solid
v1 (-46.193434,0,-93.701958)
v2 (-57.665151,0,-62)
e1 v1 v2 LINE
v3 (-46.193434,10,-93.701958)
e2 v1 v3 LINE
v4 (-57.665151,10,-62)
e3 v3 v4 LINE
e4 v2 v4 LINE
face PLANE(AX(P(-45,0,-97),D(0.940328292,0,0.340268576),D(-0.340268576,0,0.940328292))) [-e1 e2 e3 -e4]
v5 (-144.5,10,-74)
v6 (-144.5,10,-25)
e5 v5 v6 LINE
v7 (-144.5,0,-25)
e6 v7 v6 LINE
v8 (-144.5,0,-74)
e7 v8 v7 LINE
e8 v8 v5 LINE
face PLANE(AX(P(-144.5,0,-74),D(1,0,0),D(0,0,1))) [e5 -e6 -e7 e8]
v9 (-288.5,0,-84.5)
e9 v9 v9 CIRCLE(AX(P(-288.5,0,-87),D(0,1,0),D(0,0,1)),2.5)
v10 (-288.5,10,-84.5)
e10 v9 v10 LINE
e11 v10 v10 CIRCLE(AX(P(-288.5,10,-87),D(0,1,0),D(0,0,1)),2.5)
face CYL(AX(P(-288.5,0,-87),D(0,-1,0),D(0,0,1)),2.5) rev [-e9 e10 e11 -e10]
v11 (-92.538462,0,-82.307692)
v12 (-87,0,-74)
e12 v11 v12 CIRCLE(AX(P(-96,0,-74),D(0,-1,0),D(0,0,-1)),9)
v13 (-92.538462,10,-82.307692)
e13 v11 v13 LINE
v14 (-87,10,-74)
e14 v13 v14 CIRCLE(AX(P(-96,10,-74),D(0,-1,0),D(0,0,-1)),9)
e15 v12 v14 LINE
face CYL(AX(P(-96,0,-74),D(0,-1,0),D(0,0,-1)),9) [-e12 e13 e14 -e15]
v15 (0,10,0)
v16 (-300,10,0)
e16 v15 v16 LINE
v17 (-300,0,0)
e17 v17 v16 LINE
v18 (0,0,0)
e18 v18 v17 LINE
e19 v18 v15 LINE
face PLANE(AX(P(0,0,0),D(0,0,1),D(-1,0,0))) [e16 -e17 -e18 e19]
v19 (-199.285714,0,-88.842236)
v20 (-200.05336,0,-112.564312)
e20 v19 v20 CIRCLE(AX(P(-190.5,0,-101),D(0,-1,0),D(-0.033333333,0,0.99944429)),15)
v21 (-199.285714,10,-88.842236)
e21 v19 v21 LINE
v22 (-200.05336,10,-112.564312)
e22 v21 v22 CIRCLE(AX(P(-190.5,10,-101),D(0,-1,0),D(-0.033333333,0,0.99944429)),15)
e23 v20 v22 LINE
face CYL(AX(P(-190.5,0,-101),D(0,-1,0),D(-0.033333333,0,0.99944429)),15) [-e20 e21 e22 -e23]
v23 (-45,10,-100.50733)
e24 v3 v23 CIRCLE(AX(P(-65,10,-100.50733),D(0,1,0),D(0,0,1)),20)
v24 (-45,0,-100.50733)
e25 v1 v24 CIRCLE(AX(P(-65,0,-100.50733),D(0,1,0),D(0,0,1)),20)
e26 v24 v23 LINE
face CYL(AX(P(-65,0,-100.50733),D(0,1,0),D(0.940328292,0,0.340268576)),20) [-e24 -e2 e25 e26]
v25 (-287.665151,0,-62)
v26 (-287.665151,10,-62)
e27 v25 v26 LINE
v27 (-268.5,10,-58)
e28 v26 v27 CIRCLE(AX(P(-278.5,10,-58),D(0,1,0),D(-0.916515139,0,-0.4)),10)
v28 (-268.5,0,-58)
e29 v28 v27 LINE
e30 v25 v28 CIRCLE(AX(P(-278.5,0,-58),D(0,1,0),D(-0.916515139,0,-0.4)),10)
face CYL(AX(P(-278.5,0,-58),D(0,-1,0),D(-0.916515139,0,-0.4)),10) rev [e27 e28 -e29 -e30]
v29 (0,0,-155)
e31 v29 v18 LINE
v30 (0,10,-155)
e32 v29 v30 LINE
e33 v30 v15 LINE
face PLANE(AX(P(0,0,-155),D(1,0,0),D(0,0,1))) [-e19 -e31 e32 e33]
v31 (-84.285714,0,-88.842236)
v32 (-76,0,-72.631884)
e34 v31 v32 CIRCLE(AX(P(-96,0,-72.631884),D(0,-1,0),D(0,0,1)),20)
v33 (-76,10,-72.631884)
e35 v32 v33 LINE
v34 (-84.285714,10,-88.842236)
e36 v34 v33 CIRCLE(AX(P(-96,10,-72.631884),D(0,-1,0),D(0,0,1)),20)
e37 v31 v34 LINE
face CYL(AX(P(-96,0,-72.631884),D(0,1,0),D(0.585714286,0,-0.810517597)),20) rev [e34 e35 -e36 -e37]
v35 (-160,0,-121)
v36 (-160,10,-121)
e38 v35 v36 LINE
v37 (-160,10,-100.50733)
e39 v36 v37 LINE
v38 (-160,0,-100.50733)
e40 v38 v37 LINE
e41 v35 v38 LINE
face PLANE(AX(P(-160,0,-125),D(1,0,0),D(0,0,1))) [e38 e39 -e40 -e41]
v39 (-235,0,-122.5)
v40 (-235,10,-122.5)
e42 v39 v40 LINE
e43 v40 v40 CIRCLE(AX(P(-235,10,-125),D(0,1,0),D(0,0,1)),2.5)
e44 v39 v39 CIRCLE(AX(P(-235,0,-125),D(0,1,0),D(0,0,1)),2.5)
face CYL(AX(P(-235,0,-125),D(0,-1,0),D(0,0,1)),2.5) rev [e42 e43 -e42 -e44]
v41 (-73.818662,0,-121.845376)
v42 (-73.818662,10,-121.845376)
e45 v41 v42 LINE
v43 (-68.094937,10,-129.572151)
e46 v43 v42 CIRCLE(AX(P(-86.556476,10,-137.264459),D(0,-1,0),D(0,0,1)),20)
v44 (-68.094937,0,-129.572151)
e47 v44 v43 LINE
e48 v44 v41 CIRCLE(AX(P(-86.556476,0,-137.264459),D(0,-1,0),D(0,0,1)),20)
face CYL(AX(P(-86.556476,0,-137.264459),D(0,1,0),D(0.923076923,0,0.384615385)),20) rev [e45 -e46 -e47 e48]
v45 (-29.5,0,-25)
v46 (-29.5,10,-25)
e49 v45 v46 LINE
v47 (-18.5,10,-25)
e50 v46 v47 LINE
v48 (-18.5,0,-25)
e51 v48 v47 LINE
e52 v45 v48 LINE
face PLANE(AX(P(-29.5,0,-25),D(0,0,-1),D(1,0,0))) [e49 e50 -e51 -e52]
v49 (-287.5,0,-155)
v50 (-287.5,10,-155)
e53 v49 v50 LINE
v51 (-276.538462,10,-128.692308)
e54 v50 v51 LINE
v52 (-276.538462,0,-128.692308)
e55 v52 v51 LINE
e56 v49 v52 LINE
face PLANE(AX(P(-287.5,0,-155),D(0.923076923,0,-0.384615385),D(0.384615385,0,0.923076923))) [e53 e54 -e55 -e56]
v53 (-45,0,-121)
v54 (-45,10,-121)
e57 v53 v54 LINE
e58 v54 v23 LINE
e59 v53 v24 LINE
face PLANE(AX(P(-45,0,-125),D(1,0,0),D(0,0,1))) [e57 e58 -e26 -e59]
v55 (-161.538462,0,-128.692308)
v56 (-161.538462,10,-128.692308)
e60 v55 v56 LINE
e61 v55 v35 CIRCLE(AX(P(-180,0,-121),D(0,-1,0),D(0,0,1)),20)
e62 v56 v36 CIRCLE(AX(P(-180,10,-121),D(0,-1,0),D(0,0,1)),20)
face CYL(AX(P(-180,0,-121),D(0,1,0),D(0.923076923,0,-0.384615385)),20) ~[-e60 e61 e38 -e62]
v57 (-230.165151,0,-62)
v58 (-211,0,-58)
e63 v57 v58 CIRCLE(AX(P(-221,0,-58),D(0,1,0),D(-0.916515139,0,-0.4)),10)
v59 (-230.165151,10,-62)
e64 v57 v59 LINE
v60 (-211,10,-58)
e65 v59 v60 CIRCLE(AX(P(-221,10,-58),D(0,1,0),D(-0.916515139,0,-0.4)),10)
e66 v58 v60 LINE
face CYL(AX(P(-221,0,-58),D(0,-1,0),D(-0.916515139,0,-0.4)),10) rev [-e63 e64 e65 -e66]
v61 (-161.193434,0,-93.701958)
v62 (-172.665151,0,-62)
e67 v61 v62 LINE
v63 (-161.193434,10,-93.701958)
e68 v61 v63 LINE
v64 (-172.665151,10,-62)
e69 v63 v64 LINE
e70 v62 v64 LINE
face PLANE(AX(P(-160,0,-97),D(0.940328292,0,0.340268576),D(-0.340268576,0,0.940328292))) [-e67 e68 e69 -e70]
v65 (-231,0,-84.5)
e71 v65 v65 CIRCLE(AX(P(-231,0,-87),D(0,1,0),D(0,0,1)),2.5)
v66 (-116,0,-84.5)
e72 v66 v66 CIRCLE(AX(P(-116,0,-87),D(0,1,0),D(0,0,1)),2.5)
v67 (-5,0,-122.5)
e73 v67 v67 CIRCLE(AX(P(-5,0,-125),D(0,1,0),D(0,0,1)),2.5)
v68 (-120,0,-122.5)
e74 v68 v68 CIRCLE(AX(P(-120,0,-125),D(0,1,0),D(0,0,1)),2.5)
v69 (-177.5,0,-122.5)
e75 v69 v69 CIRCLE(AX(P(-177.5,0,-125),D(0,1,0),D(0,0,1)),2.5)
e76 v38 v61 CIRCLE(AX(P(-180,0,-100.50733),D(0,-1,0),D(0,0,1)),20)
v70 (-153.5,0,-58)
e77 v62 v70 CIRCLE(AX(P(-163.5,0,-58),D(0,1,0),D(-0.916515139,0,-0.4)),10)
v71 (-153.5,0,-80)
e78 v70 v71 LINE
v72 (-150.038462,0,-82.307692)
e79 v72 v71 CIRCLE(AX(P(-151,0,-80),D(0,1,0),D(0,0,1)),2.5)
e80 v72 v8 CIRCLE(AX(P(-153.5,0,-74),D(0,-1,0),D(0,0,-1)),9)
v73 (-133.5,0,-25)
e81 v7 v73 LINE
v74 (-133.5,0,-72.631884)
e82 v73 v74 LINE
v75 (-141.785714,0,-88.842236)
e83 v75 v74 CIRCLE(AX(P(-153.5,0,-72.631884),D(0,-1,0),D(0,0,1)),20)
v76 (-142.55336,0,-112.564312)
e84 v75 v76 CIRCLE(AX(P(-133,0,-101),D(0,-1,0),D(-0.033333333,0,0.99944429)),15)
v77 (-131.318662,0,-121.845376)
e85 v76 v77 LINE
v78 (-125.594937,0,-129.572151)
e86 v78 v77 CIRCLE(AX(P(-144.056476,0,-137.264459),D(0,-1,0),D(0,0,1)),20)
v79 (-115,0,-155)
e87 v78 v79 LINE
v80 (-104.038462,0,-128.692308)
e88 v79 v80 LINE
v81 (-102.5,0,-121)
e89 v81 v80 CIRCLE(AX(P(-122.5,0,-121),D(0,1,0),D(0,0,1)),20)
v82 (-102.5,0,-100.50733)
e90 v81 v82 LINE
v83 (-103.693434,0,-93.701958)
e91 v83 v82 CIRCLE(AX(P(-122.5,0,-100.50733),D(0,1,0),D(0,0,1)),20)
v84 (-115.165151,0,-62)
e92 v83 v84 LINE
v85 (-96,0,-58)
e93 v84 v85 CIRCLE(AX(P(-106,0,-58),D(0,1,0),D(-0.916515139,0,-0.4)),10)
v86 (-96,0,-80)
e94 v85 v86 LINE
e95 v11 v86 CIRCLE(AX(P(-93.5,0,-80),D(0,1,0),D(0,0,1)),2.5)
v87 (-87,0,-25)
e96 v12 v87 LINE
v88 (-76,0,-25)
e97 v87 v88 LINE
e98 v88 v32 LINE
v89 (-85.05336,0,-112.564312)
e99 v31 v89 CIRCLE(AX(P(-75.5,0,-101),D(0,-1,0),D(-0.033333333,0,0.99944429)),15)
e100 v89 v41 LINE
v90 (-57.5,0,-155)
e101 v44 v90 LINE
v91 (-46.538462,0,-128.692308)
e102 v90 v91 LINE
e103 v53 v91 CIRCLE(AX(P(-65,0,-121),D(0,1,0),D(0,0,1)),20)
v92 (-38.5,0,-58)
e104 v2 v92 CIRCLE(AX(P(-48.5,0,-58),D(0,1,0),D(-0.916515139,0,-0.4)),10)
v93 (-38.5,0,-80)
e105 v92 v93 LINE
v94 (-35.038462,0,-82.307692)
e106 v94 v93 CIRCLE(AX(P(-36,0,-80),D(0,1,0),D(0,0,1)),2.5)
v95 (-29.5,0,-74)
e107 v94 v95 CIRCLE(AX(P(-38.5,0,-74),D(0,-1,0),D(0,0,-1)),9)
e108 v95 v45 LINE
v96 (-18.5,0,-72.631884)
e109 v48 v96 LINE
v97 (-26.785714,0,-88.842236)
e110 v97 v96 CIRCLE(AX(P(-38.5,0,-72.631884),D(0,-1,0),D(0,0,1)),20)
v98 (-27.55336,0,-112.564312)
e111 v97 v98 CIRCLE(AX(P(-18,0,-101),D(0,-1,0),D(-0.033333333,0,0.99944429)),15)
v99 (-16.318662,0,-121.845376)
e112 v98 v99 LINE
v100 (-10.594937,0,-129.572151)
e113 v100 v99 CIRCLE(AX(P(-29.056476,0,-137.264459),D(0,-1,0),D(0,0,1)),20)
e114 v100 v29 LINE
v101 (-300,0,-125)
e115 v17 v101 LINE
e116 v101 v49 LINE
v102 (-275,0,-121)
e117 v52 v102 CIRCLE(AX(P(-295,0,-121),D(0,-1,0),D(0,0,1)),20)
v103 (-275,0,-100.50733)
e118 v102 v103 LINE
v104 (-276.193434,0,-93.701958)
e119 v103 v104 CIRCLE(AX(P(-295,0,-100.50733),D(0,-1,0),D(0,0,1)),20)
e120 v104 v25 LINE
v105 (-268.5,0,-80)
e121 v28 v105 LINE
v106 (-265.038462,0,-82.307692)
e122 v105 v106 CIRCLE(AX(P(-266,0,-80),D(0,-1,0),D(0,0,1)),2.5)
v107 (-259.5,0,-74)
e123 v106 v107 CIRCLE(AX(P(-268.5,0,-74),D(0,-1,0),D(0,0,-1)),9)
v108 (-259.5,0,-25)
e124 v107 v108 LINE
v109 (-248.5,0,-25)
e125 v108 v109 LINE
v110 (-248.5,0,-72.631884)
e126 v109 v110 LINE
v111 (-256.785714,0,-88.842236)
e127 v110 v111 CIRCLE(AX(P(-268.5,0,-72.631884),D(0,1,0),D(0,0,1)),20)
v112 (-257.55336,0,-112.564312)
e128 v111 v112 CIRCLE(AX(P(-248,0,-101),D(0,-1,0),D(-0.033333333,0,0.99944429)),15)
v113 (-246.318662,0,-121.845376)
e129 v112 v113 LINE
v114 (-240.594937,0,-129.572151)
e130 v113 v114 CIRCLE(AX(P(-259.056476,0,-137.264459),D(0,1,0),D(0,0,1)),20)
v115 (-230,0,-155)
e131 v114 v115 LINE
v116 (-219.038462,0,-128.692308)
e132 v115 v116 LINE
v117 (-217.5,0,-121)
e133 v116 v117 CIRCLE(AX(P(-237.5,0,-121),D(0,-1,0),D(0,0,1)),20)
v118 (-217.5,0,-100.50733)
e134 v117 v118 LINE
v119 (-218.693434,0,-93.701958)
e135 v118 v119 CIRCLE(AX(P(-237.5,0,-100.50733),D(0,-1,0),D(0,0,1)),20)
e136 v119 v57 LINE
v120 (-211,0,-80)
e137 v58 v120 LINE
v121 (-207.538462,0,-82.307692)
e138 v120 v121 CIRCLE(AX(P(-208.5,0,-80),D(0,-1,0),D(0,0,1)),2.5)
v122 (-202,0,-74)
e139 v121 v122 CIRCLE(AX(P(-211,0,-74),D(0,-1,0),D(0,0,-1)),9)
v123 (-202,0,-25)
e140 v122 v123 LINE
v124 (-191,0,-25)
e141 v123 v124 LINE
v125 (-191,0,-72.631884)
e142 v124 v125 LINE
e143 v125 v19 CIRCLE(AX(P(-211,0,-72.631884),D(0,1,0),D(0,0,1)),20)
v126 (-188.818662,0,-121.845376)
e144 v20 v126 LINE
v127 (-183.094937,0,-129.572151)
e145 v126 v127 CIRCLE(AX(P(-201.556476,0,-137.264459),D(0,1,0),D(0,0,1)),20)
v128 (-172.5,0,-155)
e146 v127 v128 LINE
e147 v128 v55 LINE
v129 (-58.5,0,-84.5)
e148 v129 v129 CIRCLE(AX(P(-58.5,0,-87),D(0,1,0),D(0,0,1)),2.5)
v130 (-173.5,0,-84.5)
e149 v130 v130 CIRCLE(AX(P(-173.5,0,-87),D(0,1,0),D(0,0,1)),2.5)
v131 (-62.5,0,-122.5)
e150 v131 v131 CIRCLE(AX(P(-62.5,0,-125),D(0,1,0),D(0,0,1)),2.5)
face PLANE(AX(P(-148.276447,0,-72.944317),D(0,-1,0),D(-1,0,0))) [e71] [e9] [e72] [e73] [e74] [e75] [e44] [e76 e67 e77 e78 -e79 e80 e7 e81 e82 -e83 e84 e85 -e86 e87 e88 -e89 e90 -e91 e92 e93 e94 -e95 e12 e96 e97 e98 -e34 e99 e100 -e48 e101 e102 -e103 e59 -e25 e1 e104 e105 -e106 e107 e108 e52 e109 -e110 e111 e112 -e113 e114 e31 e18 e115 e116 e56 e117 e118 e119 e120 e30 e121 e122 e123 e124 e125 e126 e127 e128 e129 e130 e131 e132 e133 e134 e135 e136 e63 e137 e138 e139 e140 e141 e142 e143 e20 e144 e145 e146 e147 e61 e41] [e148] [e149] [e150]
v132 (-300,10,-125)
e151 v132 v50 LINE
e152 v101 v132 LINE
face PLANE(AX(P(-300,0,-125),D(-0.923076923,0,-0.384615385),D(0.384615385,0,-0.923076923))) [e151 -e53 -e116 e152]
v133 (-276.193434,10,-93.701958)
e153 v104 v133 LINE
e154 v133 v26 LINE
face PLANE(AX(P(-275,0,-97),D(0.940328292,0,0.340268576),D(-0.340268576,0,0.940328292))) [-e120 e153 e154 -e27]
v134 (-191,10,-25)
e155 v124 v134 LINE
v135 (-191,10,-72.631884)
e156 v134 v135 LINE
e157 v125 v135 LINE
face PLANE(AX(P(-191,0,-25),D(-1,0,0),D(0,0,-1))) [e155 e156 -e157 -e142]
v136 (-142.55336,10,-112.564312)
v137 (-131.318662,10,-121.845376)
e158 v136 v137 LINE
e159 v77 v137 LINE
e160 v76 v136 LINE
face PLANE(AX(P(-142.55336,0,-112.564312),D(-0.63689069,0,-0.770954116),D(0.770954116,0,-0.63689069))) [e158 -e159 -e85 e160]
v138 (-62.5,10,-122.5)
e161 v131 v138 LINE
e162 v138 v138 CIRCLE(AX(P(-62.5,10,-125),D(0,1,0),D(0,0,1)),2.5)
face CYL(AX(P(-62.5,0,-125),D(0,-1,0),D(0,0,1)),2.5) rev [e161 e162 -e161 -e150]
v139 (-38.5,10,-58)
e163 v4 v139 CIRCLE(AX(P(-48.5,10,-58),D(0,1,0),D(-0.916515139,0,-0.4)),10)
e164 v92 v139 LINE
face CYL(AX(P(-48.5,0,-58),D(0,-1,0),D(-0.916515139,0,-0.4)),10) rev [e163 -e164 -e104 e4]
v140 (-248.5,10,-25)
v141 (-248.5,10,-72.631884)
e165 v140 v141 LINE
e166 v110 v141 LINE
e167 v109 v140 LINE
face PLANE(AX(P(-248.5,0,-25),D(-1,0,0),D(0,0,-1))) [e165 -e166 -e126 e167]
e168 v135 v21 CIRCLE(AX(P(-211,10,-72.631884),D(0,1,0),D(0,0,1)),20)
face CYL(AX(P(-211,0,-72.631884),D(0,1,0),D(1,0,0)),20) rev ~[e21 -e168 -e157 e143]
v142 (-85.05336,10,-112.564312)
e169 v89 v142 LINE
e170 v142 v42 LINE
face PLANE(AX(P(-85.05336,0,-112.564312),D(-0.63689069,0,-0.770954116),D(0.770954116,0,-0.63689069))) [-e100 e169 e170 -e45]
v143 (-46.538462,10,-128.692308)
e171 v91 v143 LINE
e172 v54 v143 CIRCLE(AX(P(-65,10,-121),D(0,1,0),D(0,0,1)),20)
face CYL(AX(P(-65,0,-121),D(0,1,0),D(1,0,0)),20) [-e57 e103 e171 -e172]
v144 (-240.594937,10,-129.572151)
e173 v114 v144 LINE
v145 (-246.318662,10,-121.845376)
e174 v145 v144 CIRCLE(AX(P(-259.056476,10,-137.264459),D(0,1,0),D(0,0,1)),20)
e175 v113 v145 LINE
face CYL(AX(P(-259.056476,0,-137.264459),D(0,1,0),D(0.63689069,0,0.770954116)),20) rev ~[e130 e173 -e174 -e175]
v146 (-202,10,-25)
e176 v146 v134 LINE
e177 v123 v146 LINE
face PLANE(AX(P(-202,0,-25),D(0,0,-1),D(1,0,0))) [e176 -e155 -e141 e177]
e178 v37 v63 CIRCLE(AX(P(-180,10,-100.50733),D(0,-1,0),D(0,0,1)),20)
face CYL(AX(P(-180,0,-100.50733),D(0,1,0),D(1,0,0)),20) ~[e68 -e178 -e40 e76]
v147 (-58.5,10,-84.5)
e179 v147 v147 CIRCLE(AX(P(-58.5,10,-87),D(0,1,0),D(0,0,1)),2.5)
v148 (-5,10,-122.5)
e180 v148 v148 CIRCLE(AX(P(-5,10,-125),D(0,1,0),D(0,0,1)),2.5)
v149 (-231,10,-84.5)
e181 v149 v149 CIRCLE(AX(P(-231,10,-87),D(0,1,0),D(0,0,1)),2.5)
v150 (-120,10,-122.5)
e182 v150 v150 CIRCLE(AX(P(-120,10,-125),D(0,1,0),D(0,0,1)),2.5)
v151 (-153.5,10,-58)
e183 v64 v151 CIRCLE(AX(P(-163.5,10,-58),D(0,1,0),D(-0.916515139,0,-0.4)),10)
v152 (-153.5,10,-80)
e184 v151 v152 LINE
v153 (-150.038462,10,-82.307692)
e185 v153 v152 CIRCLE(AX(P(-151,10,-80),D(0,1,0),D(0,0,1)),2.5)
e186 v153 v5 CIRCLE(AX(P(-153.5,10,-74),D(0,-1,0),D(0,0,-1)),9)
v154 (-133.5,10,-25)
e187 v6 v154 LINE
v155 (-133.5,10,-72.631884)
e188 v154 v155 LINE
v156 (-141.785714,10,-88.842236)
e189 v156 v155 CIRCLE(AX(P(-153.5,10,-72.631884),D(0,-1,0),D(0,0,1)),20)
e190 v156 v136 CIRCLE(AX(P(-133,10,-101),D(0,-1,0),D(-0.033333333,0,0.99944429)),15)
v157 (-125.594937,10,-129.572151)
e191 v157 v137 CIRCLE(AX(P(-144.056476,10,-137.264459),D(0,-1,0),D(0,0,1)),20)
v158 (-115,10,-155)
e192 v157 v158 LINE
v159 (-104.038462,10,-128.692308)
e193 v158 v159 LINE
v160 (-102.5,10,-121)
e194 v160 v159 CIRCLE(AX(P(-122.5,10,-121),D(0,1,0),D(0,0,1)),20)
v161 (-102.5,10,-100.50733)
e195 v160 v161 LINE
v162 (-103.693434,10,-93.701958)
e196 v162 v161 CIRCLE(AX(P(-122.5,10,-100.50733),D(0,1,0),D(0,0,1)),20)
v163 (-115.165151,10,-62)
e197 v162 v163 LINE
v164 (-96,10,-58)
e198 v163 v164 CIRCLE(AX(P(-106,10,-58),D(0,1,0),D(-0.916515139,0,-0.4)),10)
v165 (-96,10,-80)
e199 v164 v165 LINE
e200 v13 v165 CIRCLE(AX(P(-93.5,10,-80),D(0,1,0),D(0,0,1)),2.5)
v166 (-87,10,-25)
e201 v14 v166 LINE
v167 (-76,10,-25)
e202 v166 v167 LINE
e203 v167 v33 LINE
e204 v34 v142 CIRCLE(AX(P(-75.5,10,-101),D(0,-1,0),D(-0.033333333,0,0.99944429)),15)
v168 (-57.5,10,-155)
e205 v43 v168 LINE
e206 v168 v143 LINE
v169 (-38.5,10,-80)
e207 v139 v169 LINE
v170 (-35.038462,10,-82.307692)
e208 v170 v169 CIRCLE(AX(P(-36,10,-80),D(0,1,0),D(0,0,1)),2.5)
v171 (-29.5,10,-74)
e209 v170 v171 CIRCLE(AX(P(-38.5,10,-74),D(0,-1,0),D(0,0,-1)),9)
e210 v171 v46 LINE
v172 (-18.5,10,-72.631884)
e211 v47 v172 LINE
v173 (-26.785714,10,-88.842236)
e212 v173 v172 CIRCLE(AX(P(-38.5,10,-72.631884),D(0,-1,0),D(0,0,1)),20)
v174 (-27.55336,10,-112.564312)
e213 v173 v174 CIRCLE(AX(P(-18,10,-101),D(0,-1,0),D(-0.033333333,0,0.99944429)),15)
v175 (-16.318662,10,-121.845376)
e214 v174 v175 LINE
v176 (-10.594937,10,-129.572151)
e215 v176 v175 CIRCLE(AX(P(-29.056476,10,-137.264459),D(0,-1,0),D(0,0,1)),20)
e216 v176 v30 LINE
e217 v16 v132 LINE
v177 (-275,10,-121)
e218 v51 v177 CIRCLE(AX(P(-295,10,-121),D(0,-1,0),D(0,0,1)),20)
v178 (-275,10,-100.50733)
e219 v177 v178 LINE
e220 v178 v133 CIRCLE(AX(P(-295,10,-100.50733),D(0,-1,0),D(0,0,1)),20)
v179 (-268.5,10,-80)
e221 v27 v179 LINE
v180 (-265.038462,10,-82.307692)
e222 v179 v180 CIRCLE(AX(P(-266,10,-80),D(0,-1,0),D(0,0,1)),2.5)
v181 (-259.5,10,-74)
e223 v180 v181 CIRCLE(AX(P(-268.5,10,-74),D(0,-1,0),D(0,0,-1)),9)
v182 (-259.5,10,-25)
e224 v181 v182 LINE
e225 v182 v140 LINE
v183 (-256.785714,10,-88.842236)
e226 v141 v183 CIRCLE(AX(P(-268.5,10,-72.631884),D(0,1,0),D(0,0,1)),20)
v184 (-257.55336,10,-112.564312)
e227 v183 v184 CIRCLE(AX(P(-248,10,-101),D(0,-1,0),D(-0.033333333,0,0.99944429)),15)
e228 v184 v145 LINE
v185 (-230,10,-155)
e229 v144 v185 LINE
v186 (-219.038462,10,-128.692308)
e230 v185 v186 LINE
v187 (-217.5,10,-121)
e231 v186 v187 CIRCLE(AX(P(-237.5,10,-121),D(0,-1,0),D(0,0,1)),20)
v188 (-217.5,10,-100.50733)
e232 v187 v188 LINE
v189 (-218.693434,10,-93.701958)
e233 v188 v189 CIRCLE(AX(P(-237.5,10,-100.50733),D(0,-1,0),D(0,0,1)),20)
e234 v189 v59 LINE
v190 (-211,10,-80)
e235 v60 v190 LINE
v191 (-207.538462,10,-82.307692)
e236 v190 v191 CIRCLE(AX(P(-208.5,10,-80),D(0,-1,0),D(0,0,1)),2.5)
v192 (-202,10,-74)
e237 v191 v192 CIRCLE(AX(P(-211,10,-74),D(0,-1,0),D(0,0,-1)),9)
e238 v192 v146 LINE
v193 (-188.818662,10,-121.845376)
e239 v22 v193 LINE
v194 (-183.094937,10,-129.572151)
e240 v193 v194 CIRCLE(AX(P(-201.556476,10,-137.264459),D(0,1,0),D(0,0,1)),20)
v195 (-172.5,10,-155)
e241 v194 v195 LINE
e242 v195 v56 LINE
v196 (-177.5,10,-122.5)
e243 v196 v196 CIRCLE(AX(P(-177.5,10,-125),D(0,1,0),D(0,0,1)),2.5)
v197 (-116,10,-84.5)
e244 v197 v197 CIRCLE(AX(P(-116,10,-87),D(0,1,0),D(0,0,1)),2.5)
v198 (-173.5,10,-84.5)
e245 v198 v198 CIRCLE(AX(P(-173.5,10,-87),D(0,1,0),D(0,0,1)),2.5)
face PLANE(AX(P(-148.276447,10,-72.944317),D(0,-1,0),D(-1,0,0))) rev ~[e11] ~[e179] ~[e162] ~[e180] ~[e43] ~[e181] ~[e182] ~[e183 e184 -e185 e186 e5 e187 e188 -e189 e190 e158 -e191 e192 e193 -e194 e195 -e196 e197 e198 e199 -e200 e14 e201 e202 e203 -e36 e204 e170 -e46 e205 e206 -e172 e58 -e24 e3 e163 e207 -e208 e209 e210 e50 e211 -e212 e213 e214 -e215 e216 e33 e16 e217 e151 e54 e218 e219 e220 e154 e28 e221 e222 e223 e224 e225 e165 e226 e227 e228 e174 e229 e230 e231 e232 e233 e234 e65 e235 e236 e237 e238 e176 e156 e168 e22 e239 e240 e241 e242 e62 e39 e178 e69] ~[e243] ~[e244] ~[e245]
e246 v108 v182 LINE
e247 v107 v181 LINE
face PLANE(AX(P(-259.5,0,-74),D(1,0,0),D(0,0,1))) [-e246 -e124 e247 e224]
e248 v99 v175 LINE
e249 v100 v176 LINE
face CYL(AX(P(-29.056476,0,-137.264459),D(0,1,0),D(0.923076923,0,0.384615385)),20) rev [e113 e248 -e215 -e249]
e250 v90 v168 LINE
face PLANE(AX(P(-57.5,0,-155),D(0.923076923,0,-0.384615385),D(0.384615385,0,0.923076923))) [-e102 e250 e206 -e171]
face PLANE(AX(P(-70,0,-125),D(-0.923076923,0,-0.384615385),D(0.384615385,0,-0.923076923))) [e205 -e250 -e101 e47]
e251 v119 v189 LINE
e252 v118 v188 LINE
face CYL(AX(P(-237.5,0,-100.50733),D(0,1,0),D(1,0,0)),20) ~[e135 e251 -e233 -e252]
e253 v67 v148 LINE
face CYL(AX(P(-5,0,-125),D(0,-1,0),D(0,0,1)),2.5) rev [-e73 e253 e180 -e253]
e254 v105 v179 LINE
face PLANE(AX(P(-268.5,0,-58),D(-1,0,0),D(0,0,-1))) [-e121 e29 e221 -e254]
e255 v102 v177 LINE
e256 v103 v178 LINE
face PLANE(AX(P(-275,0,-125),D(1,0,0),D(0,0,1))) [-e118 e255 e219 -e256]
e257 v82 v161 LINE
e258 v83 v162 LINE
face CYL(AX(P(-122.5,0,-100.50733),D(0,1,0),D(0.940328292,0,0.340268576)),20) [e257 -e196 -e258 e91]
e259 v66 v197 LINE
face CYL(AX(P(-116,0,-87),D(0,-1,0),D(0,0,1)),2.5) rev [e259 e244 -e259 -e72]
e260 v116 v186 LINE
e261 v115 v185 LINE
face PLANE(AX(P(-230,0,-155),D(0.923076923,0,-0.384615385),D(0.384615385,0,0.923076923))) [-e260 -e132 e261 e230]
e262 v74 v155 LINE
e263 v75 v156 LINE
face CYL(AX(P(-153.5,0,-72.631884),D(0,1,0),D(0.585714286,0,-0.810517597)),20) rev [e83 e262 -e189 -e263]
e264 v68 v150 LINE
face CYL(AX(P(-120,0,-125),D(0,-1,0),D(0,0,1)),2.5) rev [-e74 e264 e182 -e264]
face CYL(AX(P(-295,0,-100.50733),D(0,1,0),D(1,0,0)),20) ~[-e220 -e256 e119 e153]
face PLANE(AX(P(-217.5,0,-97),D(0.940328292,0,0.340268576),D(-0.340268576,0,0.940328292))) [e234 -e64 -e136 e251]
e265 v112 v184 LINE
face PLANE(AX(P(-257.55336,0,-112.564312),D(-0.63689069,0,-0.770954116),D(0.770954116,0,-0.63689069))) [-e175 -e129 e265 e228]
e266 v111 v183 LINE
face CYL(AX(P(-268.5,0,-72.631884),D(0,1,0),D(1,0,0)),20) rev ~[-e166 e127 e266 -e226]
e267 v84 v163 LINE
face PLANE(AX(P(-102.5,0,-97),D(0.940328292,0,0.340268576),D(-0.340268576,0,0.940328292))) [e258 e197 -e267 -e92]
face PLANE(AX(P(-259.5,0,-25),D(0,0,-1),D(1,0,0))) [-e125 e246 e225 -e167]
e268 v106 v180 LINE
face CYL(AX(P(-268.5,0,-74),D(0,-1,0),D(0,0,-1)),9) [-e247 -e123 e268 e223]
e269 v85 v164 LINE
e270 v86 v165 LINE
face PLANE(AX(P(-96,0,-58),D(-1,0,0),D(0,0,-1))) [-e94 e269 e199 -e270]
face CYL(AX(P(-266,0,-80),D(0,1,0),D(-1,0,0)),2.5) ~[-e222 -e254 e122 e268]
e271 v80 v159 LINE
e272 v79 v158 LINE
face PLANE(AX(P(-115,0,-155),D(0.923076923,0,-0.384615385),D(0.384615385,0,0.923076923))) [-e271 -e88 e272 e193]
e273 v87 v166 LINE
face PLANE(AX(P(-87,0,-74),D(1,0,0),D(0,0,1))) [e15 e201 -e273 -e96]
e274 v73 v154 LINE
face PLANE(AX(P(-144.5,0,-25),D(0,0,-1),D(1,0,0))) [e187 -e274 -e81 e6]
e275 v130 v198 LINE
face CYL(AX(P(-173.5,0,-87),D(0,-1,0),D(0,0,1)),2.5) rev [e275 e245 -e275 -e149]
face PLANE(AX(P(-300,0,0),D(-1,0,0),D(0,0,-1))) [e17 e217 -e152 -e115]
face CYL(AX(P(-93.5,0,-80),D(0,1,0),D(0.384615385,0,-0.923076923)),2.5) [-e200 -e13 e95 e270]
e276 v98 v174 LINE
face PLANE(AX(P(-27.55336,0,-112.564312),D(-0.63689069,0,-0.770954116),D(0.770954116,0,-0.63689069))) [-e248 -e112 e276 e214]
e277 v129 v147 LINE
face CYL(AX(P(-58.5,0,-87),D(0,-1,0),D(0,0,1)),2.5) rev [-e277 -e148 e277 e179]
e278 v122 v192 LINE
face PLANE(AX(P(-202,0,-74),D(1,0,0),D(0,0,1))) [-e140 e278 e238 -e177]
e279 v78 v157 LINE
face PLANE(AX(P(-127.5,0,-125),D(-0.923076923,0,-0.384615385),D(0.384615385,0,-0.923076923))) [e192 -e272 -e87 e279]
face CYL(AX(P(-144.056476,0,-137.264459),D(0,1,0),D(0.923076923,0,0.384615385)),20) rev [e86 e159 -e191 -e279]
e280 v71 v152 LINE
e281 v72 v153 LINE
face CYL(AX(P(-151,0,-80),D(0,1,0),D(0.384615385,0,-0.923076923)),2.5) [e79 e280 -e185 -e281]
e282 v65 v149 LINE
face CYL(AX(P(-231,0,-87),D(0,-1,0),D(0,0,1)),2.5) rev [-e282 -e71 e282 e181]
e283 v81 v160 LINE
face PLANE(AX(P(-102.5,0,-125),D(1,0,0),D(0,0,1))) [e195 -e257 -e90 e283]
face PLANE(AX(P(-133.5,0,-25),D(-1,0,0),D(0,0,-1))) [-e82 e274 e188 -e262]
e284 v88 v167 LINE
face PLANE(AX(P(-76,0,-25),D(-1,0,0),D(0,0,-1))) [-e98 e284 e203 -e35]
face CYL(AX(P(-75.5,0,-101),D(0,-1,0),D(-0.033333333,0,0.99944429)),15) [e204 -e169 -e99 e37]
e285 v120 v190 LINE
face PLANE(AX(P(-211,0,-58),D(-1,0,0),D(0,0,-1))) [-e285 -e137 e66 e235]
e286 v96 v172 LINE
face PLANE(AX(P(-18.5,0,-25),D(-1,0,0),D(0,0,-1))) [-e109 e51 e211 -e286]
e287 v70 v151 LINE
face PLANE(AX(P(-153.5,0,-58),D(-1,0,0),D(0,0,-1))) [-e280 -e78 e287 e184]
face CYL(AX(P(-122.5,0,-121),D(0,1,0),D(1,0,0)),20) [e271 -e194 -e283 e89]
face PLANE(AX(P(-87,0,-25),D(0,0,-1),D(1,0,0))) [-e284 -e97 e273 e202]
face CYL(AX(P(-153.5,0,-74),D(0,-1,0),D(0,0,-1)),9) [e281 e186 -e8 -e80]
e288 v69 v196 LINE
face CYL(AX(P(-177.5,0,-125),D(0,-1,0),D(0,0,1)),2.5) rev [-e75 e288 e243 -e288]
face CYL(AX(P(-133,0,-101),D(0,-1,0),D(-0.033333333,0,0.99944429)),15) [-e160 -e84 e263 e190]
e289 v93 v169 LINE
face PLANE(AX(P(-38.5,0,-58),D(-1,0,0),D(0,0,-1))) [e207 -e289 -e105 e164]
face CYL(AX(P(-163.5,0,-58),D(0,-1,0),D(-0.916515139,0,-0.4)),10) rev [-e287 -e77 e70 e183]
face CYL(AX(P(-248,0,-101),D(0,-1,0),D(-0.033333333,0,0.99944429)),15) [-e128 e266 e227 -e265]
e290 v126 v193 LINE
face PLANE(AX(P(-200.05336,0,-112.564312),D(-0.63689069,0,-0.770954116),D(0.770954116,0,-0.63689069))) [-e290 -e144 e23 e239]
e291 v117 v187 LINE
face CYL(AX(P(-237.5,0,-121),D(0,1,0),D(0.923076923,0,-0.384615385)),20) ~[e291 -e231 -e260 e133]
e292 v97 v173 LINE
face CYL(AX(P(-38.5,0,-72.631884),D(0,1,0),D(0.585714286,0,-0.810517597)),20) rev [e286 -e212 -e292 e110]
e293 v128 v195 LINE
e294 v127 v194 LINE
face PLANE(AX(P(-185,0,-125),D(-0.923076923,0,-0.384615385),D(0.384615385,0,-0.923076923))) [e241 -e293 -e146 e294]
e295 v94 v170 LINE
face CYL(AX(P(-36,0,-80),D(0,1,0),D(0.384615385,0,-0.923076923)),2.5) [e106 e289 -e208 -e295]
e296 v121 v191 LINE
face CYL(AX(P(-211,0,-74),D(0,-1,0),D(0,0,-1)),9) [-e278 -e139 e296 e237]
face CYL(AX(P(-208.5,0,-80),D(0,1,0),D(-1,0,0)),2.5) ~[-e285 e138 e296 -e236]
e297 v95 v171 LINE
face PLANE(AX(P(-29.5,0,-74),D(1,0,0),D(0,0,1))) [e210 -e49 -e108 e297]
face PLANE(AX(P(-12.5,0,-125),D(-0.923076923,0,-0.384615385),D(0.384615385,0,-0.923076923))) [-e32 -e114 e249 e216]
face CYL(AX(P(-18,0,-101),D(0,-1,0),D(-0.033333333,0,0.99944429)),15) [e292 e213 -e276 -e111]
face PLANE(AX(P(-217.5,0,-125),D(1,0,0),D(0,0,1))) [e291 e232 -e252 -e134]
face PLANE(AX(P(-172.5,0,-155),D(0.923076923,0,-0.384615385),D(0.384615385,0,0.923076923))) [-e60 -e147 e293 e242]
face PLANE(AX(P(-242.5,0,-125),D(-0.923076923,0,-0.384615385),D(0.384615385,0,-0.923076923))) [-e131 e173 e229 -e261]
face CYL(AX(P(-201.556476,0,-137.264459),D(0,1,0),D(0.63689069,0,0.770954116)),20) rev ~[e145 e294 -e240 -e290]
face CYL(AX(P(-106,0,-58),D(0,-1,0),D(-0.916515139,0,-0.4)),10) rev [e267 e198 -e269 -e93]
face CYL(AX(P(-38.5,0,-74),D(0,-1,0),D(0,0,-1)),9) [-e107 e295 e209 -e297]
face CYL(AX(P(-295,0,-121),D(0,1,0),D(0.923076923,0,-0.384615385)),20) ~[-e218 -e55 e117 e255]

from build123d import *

# Parameters (mm, degrees)
SKETCH1_R           = 2.5
BOSS_EXTRUDE1_DEPTH = 10
FILLET1_R           = 20
FILLET2_R           = 2.5


with BuildPart() as part:
    # Sketch1 → Boss-Extrude1 (new body)
    with BuildSketch(Plane(origin=(0, 0, 0), x_dir=(1, 0, 0), z_dir=(0, 1, 0))):
        with BuildLine():
            Line((0, 0), (-300, 0))
            Line((-300, 0), (-300, 125))
            Line((-300, 125), (-287.5, 155))
            Line((-287.5, 155), (-275, 125))
            Line((-275, 125), (-275, 97))
            Line((-275, 97), (-287.66515139, 62))
            ThreePointArc((-287.66515139, 62), (-280.543096437, 48.210936871), (-268.5, 58))
            Line((-268.5, 58), (-268.5, 83))
            ThreePointArc((-268.5, 83), (-262.136038969, 80.363961031), (-259.5, 74))
            Line((-259.5, 74), (-259.5, 25))
            Line((-259.5, 25), (-248.5, 25))
            Line((-248.5, 25), (-248.5, 86.008335649))
            ThreePointArc((-248.5, 86.008335649), (-262.197622342, 96.159801673), (-257.553360344, 112.564311745))
            Line((-257.553360344, 112.564311745), (-242.5, 125))
            Line((-242.5, 125), (-230, 155))
            Line((-230, 155), (-217.5, 125))
            Line((-217.5, 125), (-217.5, 97))
            Line((-217.5, 97), (-230.16515139, 62))
            ThreePointArc((-230.16515139, 62), (-223.043096437, 48.210936871), (-211, 58))
            Line((-211, 58), (-211, 83))
            ThreePointArc((-211, 83), (-204.636038969, 80.363961031), (-202, 74))
            Line((-202, 74), (-202, 25))
            Line((-202, 25), (-191, 25))
            Line((-191, 25), (-191, 86.008335649))
            ThreePointArc((-191, 86.008335649), (-204.697622342, 96.159801673), (-200.053360344, 112.564311745))
            Line((-200.053360344, 112.564311745), (-185, 125))
            Line((-185, 125), (-172.5, 155))
            Line((-172.5, 155), (-160, 125))
            Line((-160, 125), (-160, 97))
            Line((-160, 97), (-172.66515139, 62))
            ThreePointArc((-172.66515139, 62), (-165.543096437, 48.210936871), (-153.5, 58))
            Line((-153.5, 58), (-153.5, 83))
            ThreePointArc((-153.5, 83), (-147.136038969, 80.363961031), (-144.5, 74))
            Line((-144.5, 74), (-144.5, 25))
            Line((-144.5, 25), (-133.5, 25))
            Line((-133.5, 25), (-133.5, 86.008335649))
            ThreePointArc((-133.5, 86.008335649), (-147.197622342, 96.159801673), (-142.553360344, 112.564311745))
            Line((-142.553360344, 112.564311745), (-127.5, 125))
            Line((-127.5, 125), (-115, 155))
            Line((-115, 155), (-102.5, 125))
            Line((-102.5, 125), (-102.5, 97))
            Line((-102.5, 97), (-115.16515139, 62))
            ThreePointArc((-115.16515139, 62), (-108.043096437, 48.210936871), (-96, 58))
            Line((-96, 58), (-96, 83))
            ThreePointArc((-96, 83), (-89.636038969, 80.363961031), (-87, 74))
            Line((-87, 74), (-87, 25))
            Line((-87, 25), (-76, 25))
            Line((-76, 25), (-76, 86.008335649))
            ThreePointArc((-76, 86.008335649), (-89.697622342, 96.159801673), (-85.053360344, 112.564311745))
            Line((-85.053360344, 112.564311745), (-70, 125))
            Line((-70, 125), (-57.5, 155))
            Line((-57.5, 155), (-45, 125))
            Line((-45, 125), (-45, 97))
            Line((-45, 97), (-57.66515139, 62))
            ThreePointArc((-57.66515139, 62), (-50.543096437, 48.210936871), (-38.5, 58))
            Line((-38.5, 58), (-38.5, 83))
            ThreePointArc((-38.5, 83), (-32.136038969, 80.363961031), (-29.5, 74))
            Line((-29.5, 74), (-29.5, 25))
            Line((-29.5, 25), (-18.5, 25))
            Line((-18.5, 25), (-18.5, 86.008335649))
            ThreePointArc((-18.5, 86.008335649), (-32.197622342, 96.159801673), (-27.553360344, 112.564311745))
            Line((-27.553360344, 112.564311745), (-12.5, 125))
            Line((-12.5, 125), (0, 155))
            Line((0, 155), (0, 0))
        make_face()
        with Locations(Location((-5, 125, 0), (0, 0, 270))):
            Circle(SKETCH1_R, mode=Mode.SUBTRACT)
        with Locations(Location((-58.5, 87, 0), (0, 0, 270))):
            Circle(SKETCH1_R, mode=Mode.SUBTRACT)
        with Locations(Location((-62.5, 125, 0), (0, 0, 270))):
            Circle(SKETCH1_R, mode=Mode.SUBTRACT)
        with Locations(Location((-116, 87, 0), (0, 0, 270))):
            Circle(SKETCH1_R, mode=Mode.SUBTRACT)
        with Locations(Location((-120, 125, 0), (0, 0, 270))):
            Circle(SKETCH1_R, mode=Mode.SUBTRACT)
        with Locations(Location((-173.5, 87, 0), (0, 0, 270))):
            Circle(SKETCH1_R, mode=Mode.SUBTRACT)
        with Locations(Location((-177.5, 125, 0), (0, 0, 270))):
            Circle(SKETCH1_R, mode=Mode.SUBTRACT)
        with Locations(Location((-231, 87, 0), (0, 0, 270))):
            Circle(SKETCH1_R, mode=Mode.SUBTRACT)
        with Locations(Location((-235, 125, 0), (0, 0, 270))):
            Circle(SKETCH1_R, mode=Mode.SUBTRACT)
        with Locations(Location((-288.5, 87, 0), (0, 0, 270))):
            Circle(SKETCH1_R, mode=Mode.SUBTRACT)
    extrude(amount=BOSS_EXTRUDE1_DEPTH)

    # Fillet1
    fillet1_edges = [part.edges().sort_by_distance(p)[0] for p in [
        (-275, 5, -125),
        (-275, 5, -97),
        (-248.5, 5, -86.008335649),
        (-242.5, 5, -125),
        (-217.5, 5, -125),
        (-217.5, 5, -97),
        (-191, 5, -86.008335649),
        (-185, 5, -125),
        (-160, 5, -125),
        (-160, 5, -97),
        (-133.5, 5, -86.008335649),
        (-127.5, 5, -125),
        (-102.5, 5, -125),
        (-102.5, 5, -97),
        (-76, 5, -86.008335649),
        (-70, 5, -125),
        (-45, 5, -125),
        (-45, 5, -97),
        (-18.5, 5, -86.008335649),
        (-12.5, 5, -125),
    ]]
    fillet(fillet1_edges, radius=FILLET1_R)

    # Fillet2
    fillet2_edges = [part.edges().sort_by_distance(p)[0] for p in [
        (-268.5, 5, -83),
        (-211, 5, -83),
        (-153.5, 5, -83),
        (-96, 5, -83),
        (-38.5, 5, -83),
    ]]
    fillet(fillet2_edges, radius=FILLET2_R)


solid = part.part
